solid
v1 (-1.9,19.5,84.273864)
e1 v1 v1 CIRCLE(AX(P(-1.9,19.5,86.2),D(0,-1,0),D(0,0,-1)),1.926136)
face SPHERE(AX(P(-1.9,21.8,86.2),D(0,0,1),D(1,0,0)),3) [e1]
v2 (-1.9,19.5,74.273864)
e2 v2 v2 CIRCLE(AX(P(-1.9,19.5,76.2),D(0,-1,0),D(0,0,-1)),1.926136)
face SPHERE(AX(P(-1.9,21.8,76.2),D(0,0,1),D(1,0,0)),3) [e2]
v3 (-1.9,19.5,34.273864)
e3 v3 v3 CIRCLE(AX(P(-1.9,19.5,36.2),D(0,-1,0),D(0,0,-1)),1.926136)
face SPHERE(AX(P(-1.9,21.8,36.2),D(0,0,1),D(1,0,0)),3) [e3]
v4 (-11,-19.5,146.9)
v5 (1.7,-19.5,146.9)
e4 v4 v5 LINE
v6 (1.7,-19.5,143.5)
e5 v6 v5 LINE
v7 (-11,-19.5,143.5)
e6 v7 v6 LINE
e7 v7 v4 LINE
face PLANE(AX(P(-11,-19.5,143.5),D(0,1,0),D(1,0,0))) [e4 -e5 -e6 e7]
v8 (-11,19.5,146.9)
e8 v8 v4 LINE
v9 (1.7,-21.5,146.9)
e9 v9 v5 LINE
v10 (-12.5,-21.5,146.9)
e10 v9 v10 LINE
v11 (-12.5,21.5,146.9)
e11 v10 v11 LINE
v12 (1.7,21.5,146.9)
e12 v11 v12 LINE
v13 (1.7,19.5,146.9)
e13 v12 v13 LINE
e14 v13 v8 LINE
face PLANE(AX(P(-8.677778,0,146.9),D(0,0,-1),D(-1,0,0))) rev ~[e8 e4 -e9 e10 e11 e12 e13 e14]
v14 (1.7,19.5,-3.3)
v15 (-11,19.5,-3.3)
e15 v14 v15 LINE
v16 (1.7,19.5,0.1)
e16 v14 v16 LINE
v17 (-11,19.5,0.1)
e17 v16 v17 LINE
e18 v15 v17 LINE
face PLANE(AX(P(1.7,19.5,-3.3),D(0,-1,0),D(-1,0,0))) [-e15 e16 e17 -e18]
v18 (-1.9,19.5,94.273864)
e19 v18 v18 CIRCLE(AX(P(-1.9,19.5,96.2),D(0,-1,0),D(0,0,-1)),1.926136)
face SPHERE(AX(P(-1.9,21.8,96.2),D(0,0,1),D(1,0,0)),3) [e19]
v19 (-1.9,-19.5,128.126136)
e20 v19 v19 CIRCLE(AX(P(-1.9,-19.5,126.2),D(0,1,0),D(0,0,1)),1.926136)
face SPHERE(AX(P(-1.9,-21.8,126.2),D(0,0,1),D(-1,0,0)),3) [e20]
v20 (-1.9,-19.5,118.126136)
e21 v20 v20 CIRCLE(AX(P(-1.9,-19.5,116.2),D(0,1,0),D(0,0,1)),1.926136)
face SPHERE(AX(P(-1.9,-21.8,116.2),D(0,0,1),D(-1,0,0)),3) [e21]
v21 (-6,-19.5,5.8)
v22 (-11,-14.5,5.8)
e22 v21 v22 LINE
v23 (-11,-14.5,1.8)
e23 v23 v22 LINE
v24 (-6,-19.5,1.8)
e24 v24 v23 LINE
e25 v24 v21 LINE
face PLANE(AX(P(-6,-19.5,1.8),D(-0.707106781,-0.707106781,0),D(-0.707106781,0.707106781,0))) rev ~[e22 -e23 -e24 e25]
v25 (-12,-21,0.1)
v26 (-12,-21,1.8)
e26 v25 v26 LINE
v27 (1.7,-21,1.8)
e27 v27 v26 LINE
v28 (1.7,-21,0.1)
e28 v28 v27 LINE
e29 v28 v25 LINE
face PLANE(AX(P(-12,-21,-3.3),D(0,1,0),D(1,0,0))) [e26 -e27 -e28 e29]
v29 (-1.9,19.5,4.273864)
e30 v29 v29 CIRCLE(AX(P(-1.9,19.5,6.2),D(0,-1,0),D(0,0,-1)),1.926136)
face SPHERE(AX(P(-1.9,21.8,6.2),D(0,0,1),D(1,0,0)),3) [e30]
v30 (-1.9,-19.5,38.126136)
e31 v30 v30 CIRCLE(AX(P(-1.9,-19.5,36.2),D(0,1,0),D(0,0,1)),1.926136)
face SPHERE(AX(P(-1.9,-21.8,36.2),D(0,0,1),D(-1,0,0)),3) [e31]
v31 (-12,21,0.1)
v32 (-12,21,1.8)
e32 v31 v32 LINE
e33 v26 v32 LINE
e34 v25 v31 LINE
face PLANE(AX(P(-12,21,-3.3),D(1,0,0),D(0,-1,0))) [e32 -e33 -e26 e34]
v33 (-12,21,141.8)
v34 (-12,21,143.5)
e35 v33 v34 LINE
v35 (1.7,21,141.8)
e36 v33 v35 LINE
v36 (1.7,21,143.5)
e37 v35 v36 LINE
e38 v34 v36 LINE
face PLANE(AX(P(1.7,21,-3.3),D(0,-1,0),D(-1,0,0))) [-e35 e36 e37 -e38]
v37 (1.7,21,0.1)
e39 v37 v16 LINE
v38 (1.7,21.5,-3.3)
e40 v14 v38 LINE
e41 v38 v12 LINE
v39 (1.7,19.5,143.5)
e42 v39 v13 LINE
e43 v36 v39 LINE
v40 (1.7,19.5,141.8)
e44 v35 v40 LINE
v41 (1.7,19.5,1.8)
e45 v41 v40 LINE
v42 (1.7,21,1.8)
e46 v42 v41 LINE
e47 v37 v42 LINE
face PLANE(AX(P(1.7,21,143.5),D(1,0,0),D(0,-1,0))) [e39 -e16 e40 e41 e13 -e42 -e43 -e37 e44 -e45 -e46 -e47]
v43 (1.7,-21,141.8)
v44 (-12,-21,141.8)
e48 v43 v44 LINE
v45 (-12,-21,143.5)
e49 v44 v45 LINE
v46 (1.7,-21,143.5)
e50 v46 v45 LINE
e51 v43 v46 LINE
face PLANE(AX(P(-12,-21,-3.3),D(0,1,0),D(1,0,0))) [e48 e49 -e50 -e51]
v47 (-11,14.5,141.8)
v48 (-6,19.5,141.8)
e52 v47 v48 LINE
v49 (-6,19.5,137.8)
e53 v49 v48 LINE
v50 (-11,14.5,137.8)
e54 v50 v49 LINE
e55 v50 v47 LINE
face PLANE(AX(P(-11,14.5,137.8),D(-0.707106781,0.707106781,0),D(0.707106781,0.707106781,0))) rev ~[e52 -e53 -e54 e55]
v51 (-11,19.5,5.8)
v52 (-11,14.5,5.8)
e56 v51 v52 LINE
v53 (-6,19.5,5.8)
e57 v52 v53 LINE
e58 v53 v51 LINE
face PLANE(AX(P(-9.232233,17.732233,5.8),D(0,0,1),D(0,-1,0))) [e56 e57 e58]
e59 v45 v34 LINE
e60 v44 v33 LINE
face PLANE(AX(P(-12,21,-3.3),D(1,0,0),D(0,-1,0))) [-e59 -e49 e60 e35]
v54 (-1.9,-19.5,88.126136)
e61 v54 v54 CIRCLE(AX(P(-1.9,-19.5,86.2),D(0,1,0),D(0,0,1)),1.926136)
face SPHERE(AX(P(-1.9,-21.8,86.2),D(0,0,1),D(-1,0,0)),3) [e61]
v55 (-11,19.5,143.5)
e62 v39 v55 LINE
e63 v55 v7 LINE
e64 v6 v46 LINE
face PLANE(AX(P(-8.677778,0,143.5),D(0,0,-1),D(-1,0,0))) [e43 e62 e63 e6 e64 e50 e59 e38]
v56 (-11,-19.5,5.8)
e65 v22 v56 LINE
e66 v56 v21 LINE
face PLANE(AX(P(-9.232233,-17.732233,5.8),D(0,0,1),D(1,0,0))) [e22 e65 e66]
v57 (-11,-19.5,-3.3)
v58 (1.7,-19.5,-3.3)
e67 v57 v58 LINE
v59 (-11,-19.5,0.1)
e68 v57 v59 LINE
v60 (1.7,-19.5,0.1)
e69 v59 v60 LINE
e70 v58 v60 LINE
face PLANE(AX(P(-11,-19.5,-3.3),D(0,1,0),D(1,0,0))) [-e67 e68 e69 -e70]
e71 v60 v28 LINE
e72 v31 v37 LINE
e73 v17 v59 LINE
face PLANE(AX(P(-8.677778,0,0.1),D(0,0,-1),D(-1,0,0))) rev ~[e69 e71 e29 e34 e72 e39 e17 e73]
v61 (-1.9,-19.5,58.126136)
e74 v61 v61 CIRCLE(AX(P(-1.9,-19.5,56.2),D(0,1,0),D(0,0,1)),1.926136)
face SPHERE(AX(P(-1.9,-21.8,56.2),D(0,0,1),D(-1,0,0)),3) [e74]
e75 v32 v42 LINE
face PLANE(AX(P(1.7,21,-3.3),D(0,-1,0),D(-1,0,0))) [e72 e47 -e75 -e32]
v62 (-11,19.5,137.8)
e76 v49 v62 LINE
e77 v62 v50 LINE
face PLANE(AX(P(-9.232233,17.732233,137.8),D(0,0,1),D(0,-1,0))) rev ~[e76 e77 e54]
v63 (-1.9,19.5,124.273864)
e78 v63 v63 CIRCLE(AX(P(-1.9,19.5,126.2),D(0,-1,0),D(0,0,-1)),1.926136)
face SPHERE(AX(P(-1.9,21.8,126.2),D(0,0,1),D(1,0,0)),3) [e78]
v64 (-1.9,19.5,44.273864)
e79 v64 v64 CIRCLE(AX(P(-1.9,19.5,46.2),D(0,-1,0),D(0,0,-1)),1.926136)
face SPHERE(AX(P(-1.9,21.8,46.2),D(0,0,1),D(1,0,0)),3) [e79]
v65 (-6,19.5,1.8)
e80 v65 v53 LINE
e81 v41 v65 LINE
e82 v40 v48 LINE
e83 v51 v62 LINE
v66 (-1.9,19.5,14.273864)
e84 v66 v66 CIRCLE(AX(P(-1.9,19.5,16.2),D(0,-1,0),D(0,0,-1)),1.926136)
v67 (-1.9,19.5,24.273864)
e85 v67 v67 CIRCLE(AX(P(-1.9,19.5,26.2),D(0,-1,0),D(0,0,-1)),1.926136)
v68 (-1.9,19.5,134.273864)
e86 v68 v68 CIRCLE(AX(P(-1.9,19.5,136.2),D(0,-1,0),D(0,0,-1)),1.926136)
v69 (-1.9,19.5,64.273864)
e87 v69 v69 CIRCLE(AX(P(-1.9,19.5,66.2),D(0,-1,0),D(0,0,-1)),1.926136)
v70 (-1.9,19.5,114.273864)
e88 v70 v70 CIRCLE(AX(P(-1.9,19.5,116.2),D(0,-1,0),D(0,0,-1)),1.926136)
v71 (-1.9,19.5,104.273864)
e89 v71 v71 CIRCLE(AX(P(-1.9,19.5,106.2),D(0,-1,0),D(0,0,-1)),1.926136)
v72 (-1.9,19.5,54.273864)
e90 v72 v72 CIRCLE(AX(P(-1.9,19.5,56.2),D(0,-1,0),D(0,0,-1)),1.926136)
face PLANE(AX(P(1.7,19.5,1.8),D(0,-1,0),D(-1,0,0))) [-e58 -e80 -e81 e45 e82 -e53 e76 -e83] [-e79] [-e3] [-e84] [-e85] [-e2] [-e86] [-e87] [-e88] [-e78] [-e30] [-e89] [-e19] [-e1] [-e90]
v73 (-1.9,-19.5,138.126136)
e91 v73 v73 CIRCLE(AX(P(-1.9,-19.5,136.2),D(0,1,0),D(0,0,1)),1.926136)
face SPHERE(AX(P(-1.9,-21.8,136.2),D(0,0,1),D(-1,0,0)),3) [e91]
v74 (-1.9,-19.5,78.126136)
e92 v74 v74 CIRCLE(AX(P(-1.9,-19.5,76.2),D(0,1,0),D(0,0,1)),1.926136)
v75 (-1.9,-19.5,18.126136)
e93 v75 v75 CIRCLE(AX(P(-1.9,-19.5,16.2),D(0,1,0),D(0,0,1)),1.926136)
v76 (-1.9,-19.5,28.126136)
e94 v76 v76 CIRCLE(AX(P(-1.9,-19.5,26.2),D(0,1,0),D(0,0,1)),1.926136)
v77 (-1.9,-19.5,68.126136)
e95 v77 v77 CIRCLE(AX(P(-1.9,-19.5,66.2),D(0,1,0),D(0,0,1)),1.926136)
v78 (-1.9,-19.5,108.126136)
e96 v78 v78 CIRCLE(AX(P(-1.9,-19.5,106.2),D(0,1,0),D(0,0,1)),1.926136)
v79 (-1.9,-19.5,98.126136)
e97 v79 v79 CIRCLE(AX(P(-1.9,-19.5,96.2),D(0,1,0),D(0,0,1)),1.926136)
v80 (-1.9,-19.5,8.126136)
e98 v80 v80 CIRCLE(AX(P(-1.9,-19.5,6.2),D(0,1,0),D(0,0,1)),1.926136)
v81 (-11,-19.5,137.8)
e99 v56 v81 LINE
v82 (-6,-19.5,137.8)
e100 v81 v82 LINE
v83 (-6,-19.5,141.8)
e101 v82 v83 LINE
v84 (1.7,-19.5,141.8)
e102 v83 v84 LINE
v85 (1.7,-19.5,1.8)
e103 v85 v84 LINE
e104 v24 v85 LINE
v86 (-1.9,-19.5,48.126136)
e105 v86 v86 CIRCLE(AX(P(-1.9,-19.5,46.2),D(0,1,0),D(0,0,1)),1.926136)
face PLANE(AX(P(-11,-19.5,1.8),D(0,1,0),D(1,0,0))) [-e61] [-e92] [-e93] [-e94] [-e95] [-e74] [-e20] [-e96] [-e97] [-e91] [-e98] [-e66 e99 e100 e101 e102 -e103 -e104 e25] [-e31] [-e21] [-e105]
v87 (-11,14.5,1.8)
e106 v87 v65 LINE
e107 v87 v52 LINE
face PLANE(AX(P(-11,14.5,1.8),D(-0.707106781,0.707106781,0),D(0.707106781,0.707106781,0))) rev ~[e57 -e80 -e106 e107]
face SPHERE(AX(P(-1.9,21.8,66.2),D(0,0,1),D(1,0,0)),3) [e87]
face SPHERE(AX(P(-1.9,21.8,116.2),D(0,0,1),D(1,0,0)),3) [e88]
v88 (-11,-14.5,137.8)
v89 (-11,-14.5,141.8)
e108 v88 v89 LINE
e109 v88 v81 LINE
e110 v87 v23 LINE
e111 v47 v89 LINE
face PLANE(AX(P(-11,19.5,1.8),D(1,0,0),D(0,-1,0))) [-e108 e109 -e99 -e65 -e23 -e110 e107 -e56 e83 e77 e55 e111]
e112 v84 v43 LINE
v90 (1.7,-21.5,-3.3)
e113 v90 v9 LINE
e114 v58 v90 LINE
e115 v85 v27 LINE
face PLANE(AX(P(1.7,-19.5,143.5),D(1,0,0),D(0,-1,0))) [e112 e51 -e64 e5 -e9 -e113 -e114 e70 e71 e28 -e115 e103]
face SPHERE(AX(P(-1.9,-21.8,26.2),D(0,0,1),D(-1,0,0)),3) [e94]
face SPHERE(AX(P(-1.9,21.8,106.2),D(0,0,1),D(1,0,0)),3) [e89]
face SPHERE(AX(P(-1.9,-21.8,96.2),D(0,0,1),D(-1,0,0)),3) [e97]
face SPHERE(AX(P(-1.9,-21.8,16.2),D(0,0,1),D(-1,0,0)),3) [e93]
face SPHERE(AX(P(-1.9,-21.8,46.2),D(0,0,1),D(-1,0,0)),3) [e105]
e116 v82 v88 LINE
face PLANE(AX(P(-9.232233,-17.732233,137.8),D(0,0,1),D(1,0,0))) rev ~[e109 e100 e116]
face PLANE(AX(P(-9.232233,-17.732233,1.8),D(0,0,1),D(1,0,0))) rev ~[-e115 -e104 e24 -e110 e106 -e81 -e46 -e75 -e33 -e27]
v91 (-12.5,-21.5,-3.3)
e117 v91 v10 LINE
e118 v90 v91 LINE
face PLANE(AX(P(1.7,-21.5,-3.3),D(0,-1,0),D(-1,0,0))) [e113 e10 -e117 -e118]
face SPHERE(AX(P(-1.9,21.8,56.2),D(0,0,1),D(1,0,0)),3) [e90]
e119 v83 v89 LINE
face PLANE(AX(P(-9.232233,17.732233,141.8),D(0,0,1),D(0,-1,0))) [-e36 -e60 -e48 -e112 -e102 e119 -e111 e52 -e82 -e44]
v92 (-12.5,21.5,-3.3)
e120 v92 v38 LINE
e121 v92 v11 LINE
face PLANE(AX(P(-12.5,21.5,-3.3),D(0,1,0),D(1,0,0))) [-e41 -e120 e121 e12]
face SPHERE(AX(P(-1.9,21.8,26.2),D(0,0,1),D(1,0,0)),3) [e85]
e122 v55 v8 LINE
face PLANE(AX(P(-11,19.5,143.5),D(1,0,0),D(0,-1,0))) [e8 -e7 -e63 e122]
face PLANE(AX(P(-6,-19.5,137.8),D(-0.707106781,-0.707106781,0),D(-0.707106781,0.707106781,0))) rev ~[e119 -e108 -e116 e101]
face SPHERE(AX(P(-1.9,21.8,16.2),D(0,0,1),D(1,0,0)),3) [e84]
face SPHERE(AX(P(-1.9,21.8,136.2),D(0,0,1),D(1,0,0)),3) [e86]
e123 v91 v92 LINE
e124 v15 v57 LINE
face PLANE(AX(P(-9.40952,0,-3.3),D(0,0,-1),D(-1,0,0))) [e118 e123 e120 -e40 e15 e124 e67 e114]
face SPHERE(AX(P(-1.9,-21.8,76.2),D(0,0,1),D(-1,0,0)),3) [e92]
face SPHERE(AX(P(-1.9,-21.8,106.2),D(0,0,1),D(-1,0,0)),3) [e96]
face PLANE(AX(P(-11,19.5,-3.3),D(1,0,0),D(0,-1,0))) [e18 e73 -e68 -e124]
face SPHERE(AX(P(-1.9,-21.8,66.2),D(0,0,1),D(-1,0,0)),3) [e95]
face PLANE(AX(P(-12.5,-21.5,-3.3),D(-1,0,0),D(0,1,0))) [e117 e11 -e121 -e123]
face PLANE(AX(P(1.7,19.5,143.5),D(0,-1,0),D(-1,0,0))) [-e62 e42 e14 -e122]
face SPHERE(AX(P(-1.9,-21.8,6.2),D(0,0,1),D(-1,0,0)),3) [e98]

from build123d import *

# Parameters (mm, degrees)
EXTRUDE019_DEPTH           = 4
EXTRUDE014_DEPTH           = 4
EXTRUDE014_PLACEMENT_ANGLE = -90
EXTRUDE025_DEPTH           = 4
EXTRUDE024_DEPTH           = 4
EXTRUDE024_PLACEMENT_ANGLE = -90
BOX061_W                   = 10
BOX061_H                   = 10
BOX061_DEPTH               = 10
BOX058_W                   = 10
BOX058_H                   = 10
BOX058_DEPTH               = 10
BOX059_W                   = 10
BOX059_H                   = 10
BOX059_DEPTH               = 10
BOX060_W                   = 10
BOX060_H                   = 10
BOX060_DEPTH               = 10
BOX057_W                   = 10
BOX057_H                   = 10
BOX057_DEPTH               = 10
BOX050_W                   = 10
BOX050_H                   = 10
BOX050_DEPTH               = 10
BOX063_W                   = 10
BOX063_H                   = 10
BOX063_DEPTH               = 10
BOX053_W                   = 10
BOX053_H                   = 10
BOX053_DEPTH               = 10
BOX056_W                   = 10
BOX056_H                   = 10
BOX056_DEPTH               = 10
BOX054_W                   = 10
BOX054_H                   = 10
BOX054_DEPTH               = 10
BOX052_W                   = 10
BOX052_H                   = 10
BOX052_DEPTH               = 10
BOX051_W                   = 10
BOX051_H                   = 10
BOX051_DEPTH               = 10
BOX055_W                   = 10
BOX055_H                   = 10
BOX055_DEPTH               = 10
BOX062_W                   = 10
BOX062_H                   = 10
BOX062_DEPTH               = 10
FUSION012_PLACEMENT_ANGLE  = 180
BOX029_W                   = 10
BOX029_H                   = 10
BOX029_DEPTH               = 10
BOX032_W                   = 10
BOX032_H                   = 10
BOX032_DEPTH               = 10
BOX027_W                   = 10
BOX027_H                   = 10
BOX027_DEPTH               = 10
BOX023_W                   = 10
BOX023_H                   = 10
BOX023_DEPTH               = 10
BOX024_W                   = 10
BOX024_H                   = 10
BOX024_DEPTH               = 10
BOX033_W                   = 10
BOX033_H                   = 10
BOX033_DEPTH               = 10
BOX022_W                   = 10
BOX022_H                   = 10
BOX022_DEPTH               = 10
BOX025_W                   = 10
BOX025_H                   = 10
BOX025_DEPTH               = 10
BOX026_W                   = 10
BOX026_H                   = 10
BOX026_DEPTH               = 10
BOX028_W                   = 10
BOX028_H                   = 10
BOX028_DEPTH               = 10
BOX035_W                   = 10
BOX035_H                   = 10
BOX035_DEPTH               = 10
BOX034_W                   = 10
BOX034_H                   = 10
BOX034_DEPTH               = 10
BOX031_W                   = 10
BOX031_H                   = 10
BOX031_DEPTH               = 10
BOX030_W                   = 10
BOX030_H                   = 10
BOX030_DEPTH               = 10
EXTRUDE007_DEPTH           = 140
EXTRUDE008_DEPTH           = 3.4
EXTRUDE_DEPTH              = 3.4
EXTRUDE009_DEPTH           = 150.2


with BuildPart() as extrude019:
    # Sketch012 → Extrude019 (new body)
    with BuildSketch(Plane.XY):
        Polygon((0, 0), (5, 0), (0, 5), align=None)
    extrude(amount=EXTRUDE019_DEPTH)


with BuildPart() as extrude019_1:
    # Extrude019 placement: moved
    add(extrude019.part.moved(Location((-10, -19.5, 1.6))))


with BuildPart() as stableliser3:
    # Sketch010 → Extrude014 (new body)
    with BuildSketch(Plane.XY):
        Polygon((0, 0), (5, 0), (0, 5), align=None)
    extrude(amount=EXTRUDE014_DEPTH)


with BuildPart() as stableliser3_1:
    # Extrude014 placement: moved
    add(stableliser3.part.moved(Location((-10, 19.5, 1.6))).rotate(Axis((-10, 19.5, 1.6), (0, 0, 1)), EXTRUDE014_PLACEMENT_ANGLE))

    # Fusion027: union Extrude019
    add(extrude019_1.part)


with BuildPart() as extrude025:
    # Sketch018 → Extrude025 (new body)
    with BuildSketch(Plane.XY):
        Polygon((0, 0), (5, 0), (0, 5), align=None)
    extrude(amount=EXTRUDE025_DEPTH)


with BuildPart() as extrude025_1:
    # Extrude025 placement: moved
    add(extrude025.part.moved(Location((-10, -19.5, 1.6))))


with BuildPart() as stableliser004:
    # Sketch013 → Extrude024 (new body)
    with BuildSketch(Plane.XY):
        Polygon((0, 0), (5, 0), (0, 5), align=None)
    extrude(amount=EXTRUDE024_DEPTH)


with BuildPart() as stableliser004_1:
    # Extrude024 placement: moved
    add(stableliser004.part.moved(Location((-10, 19.5, 1.6))).rotate(Axis((-10, 19.5, 1.6), (0, 0, 1)), EXTRUDE024_PLACEMENT_ANGLE))

    # Fusion033: union Extrude025
    add(extrude025_1.part)


with BuildPart() as stableliser004_2:
    # Fusion033 placement: moved
    add(stableliser004_1.part.moved(Location((0, 0, 136))))


with BuildPart() as cube059:
    # Box061 → Box061 (new body)
    with BuildSketch(Plane(origin=(-6, 20.5, 0), x_dir=(1, 0, 0), z_dir=(0, 0, 1))):
        with Locations((5, 5)):
            Rectangle(BOX061_W, BOX061_H)
    extrude(amount=BOX061_DEPTH)


with BuildPart() as nobhole042:
    # Sphere043 → Sphere043 (revolve)
    with BuildSketch(Plane(origin=(-1, 21.8, 6), x_dir=(1, 0, 0), z_dir=(0, -1, 0))):
        with BuildLine():
            ThreePointArc((0, -3), (3, 0), (0, 3))
            Line((0, 3), (0, -3))
        make_face()
    revolve(axis=Axis((-1, 21.8, 6), (0, 0, 1)))

    # Cut044: cut Cube059
    add(cube059.part, mode=Mode.SUBTRACT)


with BuildPart() as nobhole042_1:
    # Cut044 placement: moved
    add(nobhole042.part.moved(Location((0, 0, 20))))


with BuildPart() as cube056:
    # Box058 → Box058 (new body)
    with BuildSketch(Plane(origin=(-6, 20.5, 0), x_dir=(1, 0, 0), z_dir=(0, 0, 1))):
        with Locations((5, 5)):
            Rectangle(BOX058_W, BOX058_H)
    extrude(amount=BOX058_DEPTH)


with BuildPart() as nobhole043:
    # Sphere047 → Sphere047 (revolve)
    with BuildSketch(Plane(origin=(-1, 21.8, 6), x_dir=(1, 0, 0), z_dir=(0, -1, 0))):
        with BuildLine():
            ThreePointArc((0, -3), (3, 0), (0, 3))
            Line((0, 3), (0, -3))
        make_face()
    revolve(axis=Axis((-1, 21.8, 6), (0, 0, 1)))

    # Cut045: cut Cube056
    add(cube056.part, mode=Mode.SUBTRACT)


with BuildPart() as nobhole043_1:
    # Cut045 placement: moved
    add(nobhole043.part.moved(Location((0, 0, 60))))


with BuildPart() as cube057:
    # Box059 → Box059 (new body)
    with BuildSketch(Plane(origin=(-6, 20.5, 0), x_dir=(1, 0, 0), z_dir=(0, 0, 1))):
        with Locations((5, 5)):
            Rectangle(BOX059_W, BOX059_H)
    extrude(amount=BOX059_DEPTH)


with BuildPart() as nobhole044:
    # Sphere055 → Sphere055 (revolve)
    with BuildSketch(Plane(origin=(-1, 21.8, 6), x_dir=(1, 0, 0), z_dir=(0, -1, 0))):
        with BuildLine():
            ThreePointArc((0, -3), (3, 0), (0, 3))
            Line((0, 3), (0, -3))
        make_face()
    revolve(axis=Axis((-1, 21.8, 6), (0, 0, 1)))

    # Cut046: cut Cube057
    add(cube057.part, mode=Mode.SUBTRACT)


with BuildPart() as nobhole044_1:
    # Cut046 placement: moved
    add(nobhole044.part.moved(Location((0, 0, 80))))


with BuildPart() as cube058:
    # Box060 → Box060 (new body)
    with BuildSketch(Plane(origin=(-6, 20.5, 0), x_dir=(1, 0, 0), z_dir=(0, 0, 1))):
        with Locations((5, 5)):
            Rectangle(BOX060_W, BOX060_H)
    extrude(amount=BOX060_DEPTH)


with BuildPart() as nobhole047:
    # Sphere052 → Sphere052 (revolve)
    with BuildSketch(Plane(origin=(-1, 21.8, 6), x_dir=(1, 0, 0), z_dir=(0, -1, 0))):
        with BuildLine():
            ThreePointArc((0, -3), (3, 0), (0, 3))
            Line((0, 3), (0, -3))
        make_face()
    revolve(axis=Axis((-1, 21.8, 6), (0, 0, 1)))

    # Cut049: cut Cube058
    add(cube058.part, mode=Mode.SUBTRACT)


with BuildPart() as nobhole047_1:
    # Cut049 placement: moved
    add(nobhole047.part.moved(Location((0, 0, 110))))


with BuildPart() as cube055:
    # Box057 → Box057 (new body)
    with BuildSketch(Plane(origin=(-6, 20.5, 0), x_dir=(1, 0, 0), z_dir=(0, 0, 1))):
        with Locations((5, 5)):
            Rectangle(BOX057_W, BOX057_H)
    extrude(amount=BOX057_DEPTH)


with BuildPart() as nobhole050:
    # Sphere051 → Sphere051 (revolve)
    with BuildSketch(Plane(origin=(-1, 21.8, 6), x_dir=(1, 0, 0), z_dir=(0, -1, 0))):
        with BuildLine():
            ThreePointArc((0, -3), (3, 0), (0, 3))
            Line((0, 3), (0, -3))
        make_face()
    revolve(axis=Axis((-1, 21.8, 6), (0, 0, 1)))

    # Cut052: cut Cube055
    add(cube055.part, mode=Mode.SUBTRACT)


with BuildPart() as nobhole050_1:
    # Cut052 placement: moved
    add(nobhole050.part.moved(Location((0, 0, 70))))


with BuildPart() as cube048:
    # Box050 → Box050 (new body)
    with BuildSketch(Plane(origin=(-6, 20.5, 0), x_dir=(1, 0, 0), z_dir=(0, 0, 1))):
        with Locations((5, 5)):
            Rectangle(BOX050_W, BOX050_H)
    extrude(amount=BOX050_DEPTH)


with BuildPart() as nobhole051:
    # Sphere048 → Sphere048 (revolve)
    with BuildSketch(Plane(origin=(-1, 21.8, 6), x_dir=(1, 0, 0), z_dir=(0, -1, 0))):
        with BuildLine():
            ThreePointArc((0, -3), (3, 0), (0, 3))
            Line((0, 3), (0, -3))
        make_face()
    revolve(axis=Axis((-1, 21.8, 6), (0, 0, 1)))

    # Cut053: cut Cube048
    add(cube048.part, mode=Mode.SUBTRACT)


with BuildPart() as nobhole051_1:
    # Cut053 placement: moved
    add(nobhole051.part.moved(Location((0, 0, 40))))


with BuildPart() as cube061:
    # Box063 → Box063 (new body)
    with BuildSketch(Plane(origin=(-6, 20.5, 0), x_dir=(1, 0, 0), z_dir=(0, 0, 1))):
        with Locations((5, 5)):
            Rectangle(BOX063_W, BOX063_H)
    extrude(amount=BOX063_DEPTH)


with BuildPart() as nobhole048:
    # Sphere050 → Sphere050 (revolve)
    with BuildSketch(Plane(origin=(-1, 21.8, 6), x_dir=(1, 0, 0), z_dir=(0, -1, 0))):
        with BuildLine():
            ThreePointArc((0, -3), (3, 0), (0, 3))
            Line((0, 3), (0, -3))
        make_face()
    revolve(axis=Axis((-1, 21.8, 6), (0, 0, 1)))

    # Cut050: cut Cube061
    add(cube061.part, mode=Mode.SUBTRACT)


with BuildPart() as nobhole048_1:
    # Cut050 placement: moved
    add(nobhole048.part.moved(Location((0, 0, 90))))


with BuildPart() as cube051:
    # Box053 → Box053 (new body)
    with BuildSketch(Plane(origin=(-6, 20.5, 0), x_dir=(1, 0, 0), z_dir=(0, 0, 1))):
        with Locations((5, 5)):
            Rectangle(BOX053_W, BOX053_H)
    extrude(amount=BOX053_DEPTH)


with BuildPart() as nobhole053:
    # Sphere049 → Sphere049 (revolve)
    with BuildSketch(Plane(origin=(-1, 21.8, 6), x_dir=(1, 0, 0), z_dir=(0, -1, 0))):
        with BuildLine():
            ThreePointArc((0, -3), (3, 0), (0, 3))
            Line((0, 3), (0, -3))
        make_face()
    revolve(axis=Axis((-1, 21.8, 6), (0, 0, 1)))

    # Cut055: cut Cube051
    add(cube051.part, mode=Mode.SUBTRACT)


with BuildPart() as nobhole053_1:
    # Cut055 placement: moved
    add(nobhole053.part.moved(Location((0, 0, 100))))


with BuildPart() as cube054:
    # Box056 → Box056 (new body)
    with BuildSketch(Plane(origin=(-6, 20.5, 0), x_dir=(1, 0, 0), z_dir=(0, 0, 1))):
        with Locations((5, 5)):
            Rectangle(BOX056_W, BOX056_H)
    extrude(amount=BOX056_DEPTH)


with BuildPart() as nobhole049:
    # Sphere056 → Sphere056 (revolve)
    with BuildSketch(Plane(origin=(-1, 21.8, 6), x_dir=(1, 0, 0), z_dir=(0, -1, 0))):
        with BuildLine():
            ThreePointArc((0, -3), (3, 0), (0, 3))
            Line((0, 3), (0, -3))
        make_face()
    revolve(axis=Axis((-1, 21.8, 6), (0, 0, 1)))

    # Cut051: cut Cube054
    add(cube054.part, mode=Mode.SUBTRACT)


with BuildPart() as nobhole049_1:
    # Cut051 placement: moved
    add(nobhole049.part.moved(Location((0, 0, 120))))


with BuildPart() as cube052:
    # Box054 → Box054 (new body)
    with BuildSketch(Plane(origin=(-6, 20.5, 0), x_dir=(1, 0, 0), z_dir=(0, 0, 1))):
        with Locations((5, 5)):
            Rectangle(BOX054_W, BOX054_H)
    extrude(amount=BOX054_DEPTH)


with BuildPart() as nobhole052:
    # Sphere044 → Sphere044 (revolve)
    with BuildSketch(Plane(origin=(-1, 21.8, 6), x_dir=(1, 0, 0), z_dir=(0, -1, 0))):
        with BuildLine():
            ThreePointArc((0, -3), (3, 0), (0, 3))
            Line((0, 3), (0, -3))
        make_face()
    revolve(axis=Axis((-1, 21.8, 6), (0, 0, 1)))

    # Cut054: cut Cube052
    add(cube052.part, mode=Mode.SUBTRACT)


with BuildPart() as nobhole052_1:
    # Cut054 placement: moved
    add(nobhole052.part.moved(Location((0, 0, 10))))


with BuildPart() as cube050:
    # Box052 → Box052 (new body)
    with BuildSketch(Plane(origin=(-6, 20.5, 0), x_dir=(1, 0, 0), z_dir=(0, 0, 1))):
        with Locations((5, 5)):
            Rectangle(BOX052_W, BOX052_H)
    extrude(amount=BOX052_DEPTH)


with BuildPart() as nobhole054:
    # Sphere053 → Sphere053 (revolve)
    with BuildSketch(Plane(origin=(-1, 21.8, 6), x_dir=(1, 0, 0), z_dir=(0, -1, 0))):
        with BuildLine():
            ThreePointArc((0, -3), (3, 0), (0, 3))
            Line((0, 3), (0, -3))
        make_face()
    revolve(axis=Axis((-1, 21.8, 6), (0, 0, 1)))

    # Cut056: cut Cube050
    add(cube050.part, mode=Mode.SUBTRACT)


with BuildPart() as nobhole054_1:
    # Cut056 placement: moved
    add(nobhole054.part.moved(Location((0, 0, 30))))


with BuildPart() as cube049:
    # Box051 → Box051 (new body)
    with BuildSketch(Plane(origin=(-6, 20.5, 0), x_dir=(1, 0, 0), z_dir=(0, 0, 1))):
        with Locations((5, 5)):
            Rectangle(BOX051_W, BOX051_H)
    extrude(amount=BOX051_DEPTH)


with BuildPart() as nobhole046:
    # Sphere054 → Sphere054 (revolve)
    with BuildSketch(Plane(origin=(-1, 21.8, 6), x_dir=(1, 0, 0), z_dir=(0, -1, 0))):
        with BuildLine():
            ThreePointArc((0, -3), (3, 0), (0, 3))
            Line((0, 3), (0, -3))
        make_face()
    revolve(axis=Axis((-1, 21.8, 6), (0, 0, 1)))

    # Cut048: cut Cube049
    add(cube049.part, mode=Mode.SUBTRACT)


with BuildPart() as nobhole046_1:
    # Cut048 placement: moved
    add(nobhole046.part.moved(Location((0, 0, 50))))


with BuildPart() as cube053:
    # Box055 → Box055 (new body)
    with BuildSketch(Plane(origin=(-6, 20.5, 0), x_dir=(1, 0, 0), z_dir=(0, 0, 1))):
        with Locations((5, 5)):
            Rectangle(BOX055_W, BOX055_H)
    extrude(amount=BOX055_DEPTH)


with BuildPart() as nobhole045:
    # Sphere046 → Sphere046 (revolve)
    with BuildSketch(Plane(origin=(-1, 21.8, 6), x_dir=(1, 0, 0), z_dir=(0, -1, 0))):
        with BuildLine():
            ThreePointArc((0, -3), (3, 0), (0, 3))
            Line((0, 3), (0, -3))
        make_face()
    revolve(axis=Axis((-1, 21.8, 6), (0, 0, 1)))

    # Cut047: cut Cube053
    add(cube053.part, mode=Mode.SUBTRACT)


with BuildPart() as nobhole045_1:
    # Cut047 placement: moved
    add(nobhole045.part.moved(Location((0, 0, 130))))


with BuildPart() as cube060:
    # Box062 → Box062 (new body)
    with BuildSketch(Plane(origin=(-6, 20.5, 0), x_dir=(1, 0, 0), z_dir=(0, 0, 1))):
        with Locations((5, 5)):
            Rectangle(BOX062_W, BOX062_H)
    extrude(amount=BOX062_DEPTH)


with BuildPart() as singlenobs001:
    # Sphere045 → Sphere045 (revolve)
    with BuildSketch(Plane(origin=(-1, 21.8, 6), x_dir=(1, 0, 0), z_dir=(0, -1, 0))):
        with BuildLine():
            ThreePointArc((0, -3), (3, 0), (0, 3))
            Line((0, 3), (0, -3))
        make_face()
    revolve(axis=Axis((-1, 21.8, 6), (0, 0, 1)))

    # Cut057: cut Cube060
    add(cube060.part, mode=Mode.SUBTRACT)

    # Fusion012: union NobHole042, NobHole043, NobHole044, NobHole047, NobHole050, NobHole051, NobHole048, NobHole053, NobHole049, NobHole052, NobHole054, NobHole046, NobHole045
    add(nobhole042_1.part)
    add(nobhole043_1.part)
    add(nobhole044_1.part)
    add(nobhole047_1.part)
    add(nobhole050_1.part)
    add(nobhole051_1.part)
    add(nobhole048_1.part)
    add(nobhole053_1.part)
    add(nobhole049_1.part)
    add(nobhole052_1.part)
    add(nobhole054_1.part)
    add(nobhole046_1.part)
    add(nobhole045_1.part)


with BuildPart() as singlenobs001_1:
    # Fusion012 placement: moved
    add(singlenobs001.part.moved(Location((-2, 0, 0))).rotate(Axis((-2, 0, 0), (0, 0, 1)), FUSION012_PLACEMENT_ANGLE))


with BuildPart() as cube027:
    # Box029 → Box029 (new body)
    with BuildSketch(Plane(origin=(-6, 20.5, 0), x_dir=(1, 0, 0), z_dir=(0, 0, 1))):
        with Locations((5, 5)):
            Rectangle(BOX029_W, BOX029_H)
    extrude(amount=BOX029_DEPTH)


with BuildPart() as nobhole014:
    # Sphere024 → Sphere024 (revolve)
    with BuildSketch(Plane(origin=(-1, 21.8, 6), x_dir=(1, 0, 0), z_dir=(0, -1, 0))):
        with BuildLine():
            ThreePointArc((0, -3), (3, 0), (0, 3))
            Line((0, 3), (0, -3))
        make_face()
    revolve(axis=Axis((-1, 21.8, 6), (0, 0, 1)))

    # Cut016: cut Cube027
    add(cube027.part, mode=Mode.SUBTRACT)


with BuildPart() as nobhole014_1:
    # Cut016 placement: moved
    add(nobhole014.part.moved(Location((0, 0, 20))))


with BuildPart() as cube030:
    # Box032 → Box032 (new body)
    with BuildSketch(Plane(origin=(-6, 20.5, 0), x_dir=(1, 0, 0), z_dir=(0, 0, 1))):
        with Locations((5, 5)):
            Rectangle(BOX032_W, BOX032_H)
    extrude(amount=BOX032_DEPTH)


with BuildPart() as nobhole015:
    # Sphere025 → Sphere025 (revolve)
    with BuildSketch(Plane(origin=(-1, 21.8, 6), x_dir=(1, 0, 0), z_dir=(0, -1, 0))):
        with BuildLine():
            ThreePointArc((0, -3), (3, 0), (0, 3))
            Line((0, 3), (0, -3))
        make_face()
    revolve(axis=Axis((-1, 21.8, 6), (0, 0, 1)))

    # Cut017: cut Cube030
    add(cube030.part, mode=Mode.SUBTRACT)


with BuildPart() as nobhole015_1:
    # Cut017 placement: moved
    add(nobhole015.part.moved(Location((0, 0, 60))))


with BuildPart() as cube025:
    # Box027 → Box027 (new body)
    with BuildSketch(Plane(origin=(-6, 20.5, 0), x_dir=(1, 0, 0), z_dir=(0, 0, 1))):
        with Locations((5, 5)):
            Rectangle(BOX027_W, BOX027_H)
    extrude(amount=BOX027_DEPTH)


with BuildPart() as nobhole016:
    # Sphere018 → Sphere018 (revolve)
    with BuildSketch(Plane(origin=(-1, 21.8, 6), x_dir=(1, 0, 0), z_dir=(0, -1, 0))):
        with BuildLine():
            ThreePointArc((0, -3), (3, 0), (0, 3))
            Line((0, 3), (0, -3))
        make_face()
    revolve(axis=Axis((-1, 21.8, 6), (0, 0, 1)))

    # Cut018: cut Cube025
    add(cube025.part, mode=Mode.SUBTRACT)


with BuildPart() as nobhole016_1:
    # Cut018 placement: moved
    add(nobhole016.part.moved(Location((0, 0, 80))))


with BuildPart() as cube021:
    # Box023 → Box023 (new body)
    with BuildSketch(Plane(origin=(-6, 20.5, 0), x_dir=(1, 0, 0), z_dir=(0, 0, 1))):
        with Locations((5, 5)):
            Rectangle(BOX023_W, BOX023_H)
    extrude(amount=BOX023_DEPTH)


with BuildPart() as nobhole017:
    # Sphere016 → Sphere016 (revolve)
    with BuildSketch(Plane(origin=(-1, 21.8, 6), x_dir=(1, 0, 0), z_dir=(0, -1, 0))):
        with BuildLine():
            ThreePointArc((0, -3), (3, 0), (0, 3))
            Line((0, 3), (0, -3))
        make_face()
    revolve(axis=Axis((-1, 21.8, 6), (0, 0, 1)))

    # Cut019: cut Cube021
    add(cube021.part, mode=Mode.SUBTRACT)


with BuildPart() as nobhole017_1:
    # Cut019 placement: moved
    add(nobhole017.part.moved(Location((0, 0, 110))))


with BuildPart() as cube022:
    # Box024 → Box024 (new body)
    with BuildSketch(Plane(origin=(-6, 20.5, 0), x_dir=(1, 0, 0), z_dir=(0, 0, 1))):
        with Locations((5, 5)):
            Rectangle(BOX024_W, BOX024_H)
    extrude(amount=BOX024_DEPTH)


with BuildPart() as nobhole018:
    # Sphere020 → Sphere020 (revolve)
    with BuildSketch(Plane(origin=(-1, 21.8, 6), x_dir=(1, 0, 0), z_dir=(0, -1, 0))):
        with BuildLine():
            ThreePointArc((0, -3), (3, 0), (0, 3))
            Line((0, 3), (0, -3))
        make_face()
    revolve(axis=Axis((-1, 21.8, 6), (0, 0, 1)))

    # Cut020: cut Cube022
    add(cube022.part, mode=Mode.SUBTRACT)


with BuildPart() as nobhole018_1:
    # Cut020 placement: moved
    add(nobhole018.part.moved(Location((0, 0, 70))))


with BuildPart() as cube031:
    # Box033 → Box033 (new body)
    with BuildSketch(Plane(origin=(-6, 20.5, 0), x_dir=(1, 0, 0), z_dir=(0, 0, 1))):
        with Locations((5, 5)):
            Rectangle(BOX033_W, BOX033_H)
    extrude(amount=BOX033_DEPTH)


with BuildPart() as nobhole019:
    # Sphere021 → Sphere021 (revolve)
    with BuildSketch(Plane(origin=(-1, 21.8, 6), x_dir=(1, 0, 0), z_dir=(0, -1, 0))):
        with BuildLine():
            ThreePointArc((0, -3), (3, 0), (0, 3))
            Line((0, 3), (0, -3))
        make_face()
    revolve(axis=Axis((-1, 21.8, 6), (0, 0, 1)))

    # Cut021: cut Cube031
    add(cube031.part, mode=Mode.SUBTRACT)


with BuildPart() as nobhole019_1:
    # Cut021 placement: moved
    add(nobhole019.part.moved(Location((0, 0, 40))))


with BuildPart() as cube020:
    # Box022 → Box022 (new body)
    with BuildSketch(Plane(origin=(-6, 20.5, 0), x_dir=(1, 0, 0), z_dir=(0, 0, 1))):
        with Locations((5, 5)):
            Rectangle(BOX022_W, BOX022_H)
    extrude(amount=BOX022_DEPTH)


with BuildPart() as nobhole020:
    # Sphere015 → Sphere015 (revolve)
    with BuildSketch(Plane(origin=(-1, 21.8, 6), x_dir=(1, 0, 0), z_dir=(0, -1, 0))):
        with BuildLine():
            ThreePointArc((0, -3), (3, 0), (0, 3))
            Line((0, 3), (0, -3))
        make_face()
    revolve(axis=Axis((-1, 21.8, 6), (0, 0, 1)))

    # Cut022: cut Cube020
    add(cube020.part, mode=Mode.SUBTRACT)


with BuildPart() as nobhole020_1:
    # Cut022 placement: moved
    add(nobhole020.part.moved(Location((0, 0, 90))))


with BuildPart() as cube023:
    # Box025 → Box025 (new body)
    with BuildSketch(Plane(origin=(-6, 20.5, 0), x_dir=(1, 0, 0), z_dir=(0, 0, 1))):
        with Locations((5, 5)):
            Rectangle(BOX025_W, BOX025_H)
    extrude(amount=BOX025_DEPTH)


with BuildPart() as nobhole021:
    # Sphere017 → Sphere017 (revolve)
    with BuildSketch(Plane(origin=(-1, 21.8, 6), x_dir=(1, 0, 0), z_dir=(0, -1, 0))):
        with BuildLine():
            ThreePointArc((0, -3), (3, 0), (0, 3))
            Line((0, 3), (0, -3))
        make_face()
    revolve(axis=Axis((-1, 21.8, 6), (0, 0, 1)))

    # Cut023: cut Cube023
    add(cube023.part, mode=Mode.SUBTRACT)


with BuildPart() as nobhole021_1:
    # Cut023 placement: moved
    add(nobhole021.part.moved(Location((0, 0, 100))))


with BuildPart() as cube024:
    # Box026 → Box026 (new body)
    with BuildSketch(Plane(origin=(-6, 20.5, 0), x_dir=(1, 0, 0), z_dir=(0, 0, 1))):
        with Locations((5, 5)):
            Rectangle(BOX026_W, BOX026_H)
    extrude(amount=BOX026_DEPTH)


with BuildPart() as nobhole023:
    # Sphere019 → Sphere019 (revolve)
    with BuildSketch(Plane(origin=(-1, 21.8, 6), x_dir=(1, 0, 0), z_dir=(0, -1, 0))):
        with BuildLine():
            ThreePointArc((0, -3), (3, 0), (0, 3))
            Line((0, 3), (0, -3))
        make_face()
    revolve(axis=Axis((-1, 21.8, 6), (0, 0, 1)))

    # Cut025: cut Cube024
    add(cube024.part, mode=Mode.SUBTRACT)


with BuildPart() as nobhole023_1:
    # Cut025 placement: moved
    add(nobhole023.part.moved(Location((0, 0, 120))))


with BuildPart() as cube026:
    # Box028 → Box028 (new body)
    with BuildSketch(Plane(origin=(-6, 20.5, 0), x_dir=(1, 0, 0), z_dir=(0, 0, 1))):
        with Locations((5, 5)):
            Rectangle(BOX028_W, BOX028_H)
    extrude(amount=BOX028_DEPTH)


with BuildPart() as nobhole024:
    # Sphere027 → Sphere027 (revolve)
    with BuildSketch(Plane(origin=(-1, 21.8, 6), x_dir=(1, 0, 0), z_dir=(0, -1, 0))):
        with BuildLine():
            ThreePointArc((0, -3), (3, 0), (0, 3))
            Line((0, 3), (0, -3))
        make_face()
    revolve(axis=Axis((-1, 21.8, 6), (0, 0, 1)))

    # Cut026: cut Cube026
    add(cube026.part, mode=Mode.SUBTRACT)


with BuildPart() as nobhole024_1:
    # Cut026 placement: moved
    add(nobhole024.part.moved(Location((0, 0, 10))))


with BuildPart() as cube033:
    # Box035 → Box035 (new body)
    with BuildSketch(Plane(origin=(-6, 20.5, 0), x_dir=(1, 0, 0), z_dir=(0, 0, 1))):
        with Locations((5, 5)):
            Rectangle(BOX035_W, BOX035_H)
    extrude(amount=BOX035_DEPTH)


with BuildPart() as nobhole025:
    # Sphere022 → Sphere022 (revolve)
    with BuildSketch(Plane(origin=(-1, 21.8, 6), x_dir=(1, 0, 0), z_dir=(0, -1, 0))):
        with BuildLine():
            ThreePointArc((0, -3), (3, 0), (0, 3))
            Line((0, 3), (0, -3))
        make_face()
    revolve(axis=Axis((-1, 21.8, 6), (0, 0, 1)))

    # Cut027: cut Cube033
    add(cube033.part, mode=Mode.SUBTRACT)


with BuildPart() as nobhole025_1:
    # Cut027 placement: moved
    add(nobhole025.part.moved(Location((0, 0, 30))))


with BuildPart() as cube032:
    # Box034 → Box034 (new body)
    with BuildSketch(Plane(origin=(-6, 20.5, 0), x_dir=(1, 0, 0), z_dir=(0, 0, 1))):
        with Locations((5, 5)):
            Rectangle(BOX034_W, BOX034_H)
    extrude(amount=BOX034_DEPTH)


with BuildPart() as nobhole026:
    # Sphere023 → Sphere023 (revolve)
    with BuildSketch(Plane(origin=(-1, 21.8, 6), x_dir=(1, 0, 0), z_dir=(0, -1, 0))):
        with BuildLine():
            ThreePointArc((0, -3), (3, 0), (0, 3))
            Line((0, 3), (0, -3))
        make_face()
    revolve(axis=Axis((-1, 21.8, 6), (0, 0, 1)))

    # Cut028: cut Cube032
    add(cube032.part, mode=Mode.SUBTRACT)


with BuildPart() as nobhole026_1:
    # Cut028 placement: moved
    add(nobhole026.part.moved(Location((0, 0, 50))))


with BuildPart() as cube029:
    # Box031 → Box031 (new body)
    with BuildSketch(Plane(origin=(-6, 20.5, 0), x_dir=(1, 0, 0), z_dir=(0, 0, 1))):
        with Locations((5, 5)):
            Rectangle(BOX031_W, BOX031_H)
    extrude(amount=BOX031_DEPTH)


with BuildPart() as nobhole027:
    # Sphere028 → Sphere028 (revolve)
    with BuildSketch(Plane(origin=(-1, 21.8, 6), x_dir=(1, 0, 0), z_dir=(0, -1, 0))):
        with BuildLine():
            ThreePointArc((0, -3), (3, 0), (0, 3))
            Line((0, 3), (0, -3))
        make_face()
    revolve(axis=Axis((-1, 21.8, 6), (0, 0, 1)))

    # Cut029: cut Cube029
    add(cube029.part, mode=Mode.SUBTRACT)


with BuildPart() as nobhole027_1:
    # Cut029 placement: moved
    add(nobhole027.part.moved(Location((0, 0, 130))))


with BuildPart() as cube028:
    # Box030 → Box030 (new body)
    with BuildSketch(Plane(origin=(-6, 20.5, 0), x_dir=(1, 0, 0), z_dir=(0, 0, 1))):
        with Locations((5, 5)):
            Rectangle(BOX030_W, BOX030_H)
    extrude(amount=BOX030_DEPTH)


with BuildPart() as fusion014:
    # Sphere026 → Sphere026 (revolve)
    with BuildSketch(Plane(origin=(-1, 21.8, 6), x_dir=(1, 0, 0), z_dir=(0, -1, 0))):
        with BuildLine():
            ThreePointArc((0, -3), (3, 0), (0, 3))
            Line((0, 3), (0, -3))
        make_face()
    revolve(axis=Axis((-1, 21.8, 6), (0, 0, 1)))

    # Cut024: cut Cube028
    add(cube028.part, mode=Mode.SUBTRACT)

    # Fusion010: union NobHole014, NobHole015, NobHole016, NobHole017, NobHole018, NobHole019, NobHole020, NobHole021, NobHole023, NobHole024, NobHole025, NobHole026, NobHole027
    add(nobhole014_1.part)
    add(nobhole015_1.part)
    add(nobhole016_1.part)
    add(nobhole017_1.part)
    add(nobhole018_1.part)
    add(nobhole019_1.part)
    add(nobhole020_1.part)
    add(nobhole021_1.part)
    add(nobhole023_1.part)
    add(nobhole024_1.part)
    add(nobhole025_1.part)
    add(nobhole026_1.part)
    add(nobhole027_1.part)

    # Fusion014: union SingleNobs001
    add(singlenobs001_1.part)


with BuildPart() as fusion014_1:
    # Fusion014 placement: moved
    add(fusion014.part.moved(Location((0.1, 0, 0))))


with BuildPart() as extrude007:
    # Sketch007 → Extrude007 (new body)
    with BuildSketch(Plane.XY):
        Polygon((-1, 21), (12.7, 21), (12.7, 19.5), (0, 19.5), (0, -19.5), (12.7, -19.5), (12.7, -21), (-1, -21), align=None)
    extrude(amount=EXTRUDE007_DEPTH)


with BuildPart() as extrude007_1:
    # Extrude007 placement: moved
    add(extrude007.part.moved(Location((-10, 0, 1.6))))


with BuildPart() as extrude008:
    # Sketch008 → Extrude008 (new body)
    with BuildSketch(Plane.XY):
        Polygon((-1, 21), (12.7, 21), (12.7, 19.5), (0, 19.5), (0, -19.5), (12.7, -19.5), (12.7, -21), (-1, -21), align=None)
    extrude(amount=EXTRUDE008_DEPTH)


with BuildPart() as extrude008_1:
    # Extrude008 placement: moved
    add(extrude008.part.moved(Location((-10, 0, 143.3))))


with BuildPart() as rail001:
    # Sketch → Extrude (new body)
    with BuildSketch(Plane.XY):
        Polygon((-1, 21), (12.7, 21), (12.7, 19.5), (0, 19.5), (0, -19.5), (12.7, -19.5), (12.7, -21), (-1, -21), align=None)
    extrude(amount=EXTRUDE_DEPTH)


with BuildPart() as rail001_1:
    # Extrude placement: moved
    add(rail001.part.moved(Location((-10, 0, -3.5))))

    # Fusion007: union Extrude007, Extrude008
    add(extrude007_1.part)
    add(extrude008_1.part)


with BuildPart() as clippingsidewithnodsstablelise:
    # Sketch009 → Extrude009 (new body)
    with BuildSketch(Plane.XY):
        Polygon((0, 21), (0, -21), (13.7, -21), (13.7, -21.5), (-0.5, -21.5), (-0.5, 21.5), (13.7, 21.5), (13.7, 21), align=None)
    extrude(amount=EXTRUDE009_DEPTH)


with BuildPart() as clippingsidewithnodsstablelise_1:
    # Extrude009 placement: moved
    add(clippingsidewithnodsstablelise.part.moved(Location((-11, 0, -3.5))))

    # Fusion008: union rail001
    add(rail001_1.part)

    # Fusion015: union Fusion014
    add(fusion014_1.part)

    # Fusion034: union stableliser3, stableliser004
    add(stableliser3_1.part)
    add(stableliser004_2.part)


with BuildPart() as clippingsidewithnodsstablelise_2:
    # Fusion034 placement: moved
    add(clippingsidewithnodsstablelise_1.part.moved(Location((-1, 0, 0.2))))


solid = clippingsidewithnodsstablelise_2.part
